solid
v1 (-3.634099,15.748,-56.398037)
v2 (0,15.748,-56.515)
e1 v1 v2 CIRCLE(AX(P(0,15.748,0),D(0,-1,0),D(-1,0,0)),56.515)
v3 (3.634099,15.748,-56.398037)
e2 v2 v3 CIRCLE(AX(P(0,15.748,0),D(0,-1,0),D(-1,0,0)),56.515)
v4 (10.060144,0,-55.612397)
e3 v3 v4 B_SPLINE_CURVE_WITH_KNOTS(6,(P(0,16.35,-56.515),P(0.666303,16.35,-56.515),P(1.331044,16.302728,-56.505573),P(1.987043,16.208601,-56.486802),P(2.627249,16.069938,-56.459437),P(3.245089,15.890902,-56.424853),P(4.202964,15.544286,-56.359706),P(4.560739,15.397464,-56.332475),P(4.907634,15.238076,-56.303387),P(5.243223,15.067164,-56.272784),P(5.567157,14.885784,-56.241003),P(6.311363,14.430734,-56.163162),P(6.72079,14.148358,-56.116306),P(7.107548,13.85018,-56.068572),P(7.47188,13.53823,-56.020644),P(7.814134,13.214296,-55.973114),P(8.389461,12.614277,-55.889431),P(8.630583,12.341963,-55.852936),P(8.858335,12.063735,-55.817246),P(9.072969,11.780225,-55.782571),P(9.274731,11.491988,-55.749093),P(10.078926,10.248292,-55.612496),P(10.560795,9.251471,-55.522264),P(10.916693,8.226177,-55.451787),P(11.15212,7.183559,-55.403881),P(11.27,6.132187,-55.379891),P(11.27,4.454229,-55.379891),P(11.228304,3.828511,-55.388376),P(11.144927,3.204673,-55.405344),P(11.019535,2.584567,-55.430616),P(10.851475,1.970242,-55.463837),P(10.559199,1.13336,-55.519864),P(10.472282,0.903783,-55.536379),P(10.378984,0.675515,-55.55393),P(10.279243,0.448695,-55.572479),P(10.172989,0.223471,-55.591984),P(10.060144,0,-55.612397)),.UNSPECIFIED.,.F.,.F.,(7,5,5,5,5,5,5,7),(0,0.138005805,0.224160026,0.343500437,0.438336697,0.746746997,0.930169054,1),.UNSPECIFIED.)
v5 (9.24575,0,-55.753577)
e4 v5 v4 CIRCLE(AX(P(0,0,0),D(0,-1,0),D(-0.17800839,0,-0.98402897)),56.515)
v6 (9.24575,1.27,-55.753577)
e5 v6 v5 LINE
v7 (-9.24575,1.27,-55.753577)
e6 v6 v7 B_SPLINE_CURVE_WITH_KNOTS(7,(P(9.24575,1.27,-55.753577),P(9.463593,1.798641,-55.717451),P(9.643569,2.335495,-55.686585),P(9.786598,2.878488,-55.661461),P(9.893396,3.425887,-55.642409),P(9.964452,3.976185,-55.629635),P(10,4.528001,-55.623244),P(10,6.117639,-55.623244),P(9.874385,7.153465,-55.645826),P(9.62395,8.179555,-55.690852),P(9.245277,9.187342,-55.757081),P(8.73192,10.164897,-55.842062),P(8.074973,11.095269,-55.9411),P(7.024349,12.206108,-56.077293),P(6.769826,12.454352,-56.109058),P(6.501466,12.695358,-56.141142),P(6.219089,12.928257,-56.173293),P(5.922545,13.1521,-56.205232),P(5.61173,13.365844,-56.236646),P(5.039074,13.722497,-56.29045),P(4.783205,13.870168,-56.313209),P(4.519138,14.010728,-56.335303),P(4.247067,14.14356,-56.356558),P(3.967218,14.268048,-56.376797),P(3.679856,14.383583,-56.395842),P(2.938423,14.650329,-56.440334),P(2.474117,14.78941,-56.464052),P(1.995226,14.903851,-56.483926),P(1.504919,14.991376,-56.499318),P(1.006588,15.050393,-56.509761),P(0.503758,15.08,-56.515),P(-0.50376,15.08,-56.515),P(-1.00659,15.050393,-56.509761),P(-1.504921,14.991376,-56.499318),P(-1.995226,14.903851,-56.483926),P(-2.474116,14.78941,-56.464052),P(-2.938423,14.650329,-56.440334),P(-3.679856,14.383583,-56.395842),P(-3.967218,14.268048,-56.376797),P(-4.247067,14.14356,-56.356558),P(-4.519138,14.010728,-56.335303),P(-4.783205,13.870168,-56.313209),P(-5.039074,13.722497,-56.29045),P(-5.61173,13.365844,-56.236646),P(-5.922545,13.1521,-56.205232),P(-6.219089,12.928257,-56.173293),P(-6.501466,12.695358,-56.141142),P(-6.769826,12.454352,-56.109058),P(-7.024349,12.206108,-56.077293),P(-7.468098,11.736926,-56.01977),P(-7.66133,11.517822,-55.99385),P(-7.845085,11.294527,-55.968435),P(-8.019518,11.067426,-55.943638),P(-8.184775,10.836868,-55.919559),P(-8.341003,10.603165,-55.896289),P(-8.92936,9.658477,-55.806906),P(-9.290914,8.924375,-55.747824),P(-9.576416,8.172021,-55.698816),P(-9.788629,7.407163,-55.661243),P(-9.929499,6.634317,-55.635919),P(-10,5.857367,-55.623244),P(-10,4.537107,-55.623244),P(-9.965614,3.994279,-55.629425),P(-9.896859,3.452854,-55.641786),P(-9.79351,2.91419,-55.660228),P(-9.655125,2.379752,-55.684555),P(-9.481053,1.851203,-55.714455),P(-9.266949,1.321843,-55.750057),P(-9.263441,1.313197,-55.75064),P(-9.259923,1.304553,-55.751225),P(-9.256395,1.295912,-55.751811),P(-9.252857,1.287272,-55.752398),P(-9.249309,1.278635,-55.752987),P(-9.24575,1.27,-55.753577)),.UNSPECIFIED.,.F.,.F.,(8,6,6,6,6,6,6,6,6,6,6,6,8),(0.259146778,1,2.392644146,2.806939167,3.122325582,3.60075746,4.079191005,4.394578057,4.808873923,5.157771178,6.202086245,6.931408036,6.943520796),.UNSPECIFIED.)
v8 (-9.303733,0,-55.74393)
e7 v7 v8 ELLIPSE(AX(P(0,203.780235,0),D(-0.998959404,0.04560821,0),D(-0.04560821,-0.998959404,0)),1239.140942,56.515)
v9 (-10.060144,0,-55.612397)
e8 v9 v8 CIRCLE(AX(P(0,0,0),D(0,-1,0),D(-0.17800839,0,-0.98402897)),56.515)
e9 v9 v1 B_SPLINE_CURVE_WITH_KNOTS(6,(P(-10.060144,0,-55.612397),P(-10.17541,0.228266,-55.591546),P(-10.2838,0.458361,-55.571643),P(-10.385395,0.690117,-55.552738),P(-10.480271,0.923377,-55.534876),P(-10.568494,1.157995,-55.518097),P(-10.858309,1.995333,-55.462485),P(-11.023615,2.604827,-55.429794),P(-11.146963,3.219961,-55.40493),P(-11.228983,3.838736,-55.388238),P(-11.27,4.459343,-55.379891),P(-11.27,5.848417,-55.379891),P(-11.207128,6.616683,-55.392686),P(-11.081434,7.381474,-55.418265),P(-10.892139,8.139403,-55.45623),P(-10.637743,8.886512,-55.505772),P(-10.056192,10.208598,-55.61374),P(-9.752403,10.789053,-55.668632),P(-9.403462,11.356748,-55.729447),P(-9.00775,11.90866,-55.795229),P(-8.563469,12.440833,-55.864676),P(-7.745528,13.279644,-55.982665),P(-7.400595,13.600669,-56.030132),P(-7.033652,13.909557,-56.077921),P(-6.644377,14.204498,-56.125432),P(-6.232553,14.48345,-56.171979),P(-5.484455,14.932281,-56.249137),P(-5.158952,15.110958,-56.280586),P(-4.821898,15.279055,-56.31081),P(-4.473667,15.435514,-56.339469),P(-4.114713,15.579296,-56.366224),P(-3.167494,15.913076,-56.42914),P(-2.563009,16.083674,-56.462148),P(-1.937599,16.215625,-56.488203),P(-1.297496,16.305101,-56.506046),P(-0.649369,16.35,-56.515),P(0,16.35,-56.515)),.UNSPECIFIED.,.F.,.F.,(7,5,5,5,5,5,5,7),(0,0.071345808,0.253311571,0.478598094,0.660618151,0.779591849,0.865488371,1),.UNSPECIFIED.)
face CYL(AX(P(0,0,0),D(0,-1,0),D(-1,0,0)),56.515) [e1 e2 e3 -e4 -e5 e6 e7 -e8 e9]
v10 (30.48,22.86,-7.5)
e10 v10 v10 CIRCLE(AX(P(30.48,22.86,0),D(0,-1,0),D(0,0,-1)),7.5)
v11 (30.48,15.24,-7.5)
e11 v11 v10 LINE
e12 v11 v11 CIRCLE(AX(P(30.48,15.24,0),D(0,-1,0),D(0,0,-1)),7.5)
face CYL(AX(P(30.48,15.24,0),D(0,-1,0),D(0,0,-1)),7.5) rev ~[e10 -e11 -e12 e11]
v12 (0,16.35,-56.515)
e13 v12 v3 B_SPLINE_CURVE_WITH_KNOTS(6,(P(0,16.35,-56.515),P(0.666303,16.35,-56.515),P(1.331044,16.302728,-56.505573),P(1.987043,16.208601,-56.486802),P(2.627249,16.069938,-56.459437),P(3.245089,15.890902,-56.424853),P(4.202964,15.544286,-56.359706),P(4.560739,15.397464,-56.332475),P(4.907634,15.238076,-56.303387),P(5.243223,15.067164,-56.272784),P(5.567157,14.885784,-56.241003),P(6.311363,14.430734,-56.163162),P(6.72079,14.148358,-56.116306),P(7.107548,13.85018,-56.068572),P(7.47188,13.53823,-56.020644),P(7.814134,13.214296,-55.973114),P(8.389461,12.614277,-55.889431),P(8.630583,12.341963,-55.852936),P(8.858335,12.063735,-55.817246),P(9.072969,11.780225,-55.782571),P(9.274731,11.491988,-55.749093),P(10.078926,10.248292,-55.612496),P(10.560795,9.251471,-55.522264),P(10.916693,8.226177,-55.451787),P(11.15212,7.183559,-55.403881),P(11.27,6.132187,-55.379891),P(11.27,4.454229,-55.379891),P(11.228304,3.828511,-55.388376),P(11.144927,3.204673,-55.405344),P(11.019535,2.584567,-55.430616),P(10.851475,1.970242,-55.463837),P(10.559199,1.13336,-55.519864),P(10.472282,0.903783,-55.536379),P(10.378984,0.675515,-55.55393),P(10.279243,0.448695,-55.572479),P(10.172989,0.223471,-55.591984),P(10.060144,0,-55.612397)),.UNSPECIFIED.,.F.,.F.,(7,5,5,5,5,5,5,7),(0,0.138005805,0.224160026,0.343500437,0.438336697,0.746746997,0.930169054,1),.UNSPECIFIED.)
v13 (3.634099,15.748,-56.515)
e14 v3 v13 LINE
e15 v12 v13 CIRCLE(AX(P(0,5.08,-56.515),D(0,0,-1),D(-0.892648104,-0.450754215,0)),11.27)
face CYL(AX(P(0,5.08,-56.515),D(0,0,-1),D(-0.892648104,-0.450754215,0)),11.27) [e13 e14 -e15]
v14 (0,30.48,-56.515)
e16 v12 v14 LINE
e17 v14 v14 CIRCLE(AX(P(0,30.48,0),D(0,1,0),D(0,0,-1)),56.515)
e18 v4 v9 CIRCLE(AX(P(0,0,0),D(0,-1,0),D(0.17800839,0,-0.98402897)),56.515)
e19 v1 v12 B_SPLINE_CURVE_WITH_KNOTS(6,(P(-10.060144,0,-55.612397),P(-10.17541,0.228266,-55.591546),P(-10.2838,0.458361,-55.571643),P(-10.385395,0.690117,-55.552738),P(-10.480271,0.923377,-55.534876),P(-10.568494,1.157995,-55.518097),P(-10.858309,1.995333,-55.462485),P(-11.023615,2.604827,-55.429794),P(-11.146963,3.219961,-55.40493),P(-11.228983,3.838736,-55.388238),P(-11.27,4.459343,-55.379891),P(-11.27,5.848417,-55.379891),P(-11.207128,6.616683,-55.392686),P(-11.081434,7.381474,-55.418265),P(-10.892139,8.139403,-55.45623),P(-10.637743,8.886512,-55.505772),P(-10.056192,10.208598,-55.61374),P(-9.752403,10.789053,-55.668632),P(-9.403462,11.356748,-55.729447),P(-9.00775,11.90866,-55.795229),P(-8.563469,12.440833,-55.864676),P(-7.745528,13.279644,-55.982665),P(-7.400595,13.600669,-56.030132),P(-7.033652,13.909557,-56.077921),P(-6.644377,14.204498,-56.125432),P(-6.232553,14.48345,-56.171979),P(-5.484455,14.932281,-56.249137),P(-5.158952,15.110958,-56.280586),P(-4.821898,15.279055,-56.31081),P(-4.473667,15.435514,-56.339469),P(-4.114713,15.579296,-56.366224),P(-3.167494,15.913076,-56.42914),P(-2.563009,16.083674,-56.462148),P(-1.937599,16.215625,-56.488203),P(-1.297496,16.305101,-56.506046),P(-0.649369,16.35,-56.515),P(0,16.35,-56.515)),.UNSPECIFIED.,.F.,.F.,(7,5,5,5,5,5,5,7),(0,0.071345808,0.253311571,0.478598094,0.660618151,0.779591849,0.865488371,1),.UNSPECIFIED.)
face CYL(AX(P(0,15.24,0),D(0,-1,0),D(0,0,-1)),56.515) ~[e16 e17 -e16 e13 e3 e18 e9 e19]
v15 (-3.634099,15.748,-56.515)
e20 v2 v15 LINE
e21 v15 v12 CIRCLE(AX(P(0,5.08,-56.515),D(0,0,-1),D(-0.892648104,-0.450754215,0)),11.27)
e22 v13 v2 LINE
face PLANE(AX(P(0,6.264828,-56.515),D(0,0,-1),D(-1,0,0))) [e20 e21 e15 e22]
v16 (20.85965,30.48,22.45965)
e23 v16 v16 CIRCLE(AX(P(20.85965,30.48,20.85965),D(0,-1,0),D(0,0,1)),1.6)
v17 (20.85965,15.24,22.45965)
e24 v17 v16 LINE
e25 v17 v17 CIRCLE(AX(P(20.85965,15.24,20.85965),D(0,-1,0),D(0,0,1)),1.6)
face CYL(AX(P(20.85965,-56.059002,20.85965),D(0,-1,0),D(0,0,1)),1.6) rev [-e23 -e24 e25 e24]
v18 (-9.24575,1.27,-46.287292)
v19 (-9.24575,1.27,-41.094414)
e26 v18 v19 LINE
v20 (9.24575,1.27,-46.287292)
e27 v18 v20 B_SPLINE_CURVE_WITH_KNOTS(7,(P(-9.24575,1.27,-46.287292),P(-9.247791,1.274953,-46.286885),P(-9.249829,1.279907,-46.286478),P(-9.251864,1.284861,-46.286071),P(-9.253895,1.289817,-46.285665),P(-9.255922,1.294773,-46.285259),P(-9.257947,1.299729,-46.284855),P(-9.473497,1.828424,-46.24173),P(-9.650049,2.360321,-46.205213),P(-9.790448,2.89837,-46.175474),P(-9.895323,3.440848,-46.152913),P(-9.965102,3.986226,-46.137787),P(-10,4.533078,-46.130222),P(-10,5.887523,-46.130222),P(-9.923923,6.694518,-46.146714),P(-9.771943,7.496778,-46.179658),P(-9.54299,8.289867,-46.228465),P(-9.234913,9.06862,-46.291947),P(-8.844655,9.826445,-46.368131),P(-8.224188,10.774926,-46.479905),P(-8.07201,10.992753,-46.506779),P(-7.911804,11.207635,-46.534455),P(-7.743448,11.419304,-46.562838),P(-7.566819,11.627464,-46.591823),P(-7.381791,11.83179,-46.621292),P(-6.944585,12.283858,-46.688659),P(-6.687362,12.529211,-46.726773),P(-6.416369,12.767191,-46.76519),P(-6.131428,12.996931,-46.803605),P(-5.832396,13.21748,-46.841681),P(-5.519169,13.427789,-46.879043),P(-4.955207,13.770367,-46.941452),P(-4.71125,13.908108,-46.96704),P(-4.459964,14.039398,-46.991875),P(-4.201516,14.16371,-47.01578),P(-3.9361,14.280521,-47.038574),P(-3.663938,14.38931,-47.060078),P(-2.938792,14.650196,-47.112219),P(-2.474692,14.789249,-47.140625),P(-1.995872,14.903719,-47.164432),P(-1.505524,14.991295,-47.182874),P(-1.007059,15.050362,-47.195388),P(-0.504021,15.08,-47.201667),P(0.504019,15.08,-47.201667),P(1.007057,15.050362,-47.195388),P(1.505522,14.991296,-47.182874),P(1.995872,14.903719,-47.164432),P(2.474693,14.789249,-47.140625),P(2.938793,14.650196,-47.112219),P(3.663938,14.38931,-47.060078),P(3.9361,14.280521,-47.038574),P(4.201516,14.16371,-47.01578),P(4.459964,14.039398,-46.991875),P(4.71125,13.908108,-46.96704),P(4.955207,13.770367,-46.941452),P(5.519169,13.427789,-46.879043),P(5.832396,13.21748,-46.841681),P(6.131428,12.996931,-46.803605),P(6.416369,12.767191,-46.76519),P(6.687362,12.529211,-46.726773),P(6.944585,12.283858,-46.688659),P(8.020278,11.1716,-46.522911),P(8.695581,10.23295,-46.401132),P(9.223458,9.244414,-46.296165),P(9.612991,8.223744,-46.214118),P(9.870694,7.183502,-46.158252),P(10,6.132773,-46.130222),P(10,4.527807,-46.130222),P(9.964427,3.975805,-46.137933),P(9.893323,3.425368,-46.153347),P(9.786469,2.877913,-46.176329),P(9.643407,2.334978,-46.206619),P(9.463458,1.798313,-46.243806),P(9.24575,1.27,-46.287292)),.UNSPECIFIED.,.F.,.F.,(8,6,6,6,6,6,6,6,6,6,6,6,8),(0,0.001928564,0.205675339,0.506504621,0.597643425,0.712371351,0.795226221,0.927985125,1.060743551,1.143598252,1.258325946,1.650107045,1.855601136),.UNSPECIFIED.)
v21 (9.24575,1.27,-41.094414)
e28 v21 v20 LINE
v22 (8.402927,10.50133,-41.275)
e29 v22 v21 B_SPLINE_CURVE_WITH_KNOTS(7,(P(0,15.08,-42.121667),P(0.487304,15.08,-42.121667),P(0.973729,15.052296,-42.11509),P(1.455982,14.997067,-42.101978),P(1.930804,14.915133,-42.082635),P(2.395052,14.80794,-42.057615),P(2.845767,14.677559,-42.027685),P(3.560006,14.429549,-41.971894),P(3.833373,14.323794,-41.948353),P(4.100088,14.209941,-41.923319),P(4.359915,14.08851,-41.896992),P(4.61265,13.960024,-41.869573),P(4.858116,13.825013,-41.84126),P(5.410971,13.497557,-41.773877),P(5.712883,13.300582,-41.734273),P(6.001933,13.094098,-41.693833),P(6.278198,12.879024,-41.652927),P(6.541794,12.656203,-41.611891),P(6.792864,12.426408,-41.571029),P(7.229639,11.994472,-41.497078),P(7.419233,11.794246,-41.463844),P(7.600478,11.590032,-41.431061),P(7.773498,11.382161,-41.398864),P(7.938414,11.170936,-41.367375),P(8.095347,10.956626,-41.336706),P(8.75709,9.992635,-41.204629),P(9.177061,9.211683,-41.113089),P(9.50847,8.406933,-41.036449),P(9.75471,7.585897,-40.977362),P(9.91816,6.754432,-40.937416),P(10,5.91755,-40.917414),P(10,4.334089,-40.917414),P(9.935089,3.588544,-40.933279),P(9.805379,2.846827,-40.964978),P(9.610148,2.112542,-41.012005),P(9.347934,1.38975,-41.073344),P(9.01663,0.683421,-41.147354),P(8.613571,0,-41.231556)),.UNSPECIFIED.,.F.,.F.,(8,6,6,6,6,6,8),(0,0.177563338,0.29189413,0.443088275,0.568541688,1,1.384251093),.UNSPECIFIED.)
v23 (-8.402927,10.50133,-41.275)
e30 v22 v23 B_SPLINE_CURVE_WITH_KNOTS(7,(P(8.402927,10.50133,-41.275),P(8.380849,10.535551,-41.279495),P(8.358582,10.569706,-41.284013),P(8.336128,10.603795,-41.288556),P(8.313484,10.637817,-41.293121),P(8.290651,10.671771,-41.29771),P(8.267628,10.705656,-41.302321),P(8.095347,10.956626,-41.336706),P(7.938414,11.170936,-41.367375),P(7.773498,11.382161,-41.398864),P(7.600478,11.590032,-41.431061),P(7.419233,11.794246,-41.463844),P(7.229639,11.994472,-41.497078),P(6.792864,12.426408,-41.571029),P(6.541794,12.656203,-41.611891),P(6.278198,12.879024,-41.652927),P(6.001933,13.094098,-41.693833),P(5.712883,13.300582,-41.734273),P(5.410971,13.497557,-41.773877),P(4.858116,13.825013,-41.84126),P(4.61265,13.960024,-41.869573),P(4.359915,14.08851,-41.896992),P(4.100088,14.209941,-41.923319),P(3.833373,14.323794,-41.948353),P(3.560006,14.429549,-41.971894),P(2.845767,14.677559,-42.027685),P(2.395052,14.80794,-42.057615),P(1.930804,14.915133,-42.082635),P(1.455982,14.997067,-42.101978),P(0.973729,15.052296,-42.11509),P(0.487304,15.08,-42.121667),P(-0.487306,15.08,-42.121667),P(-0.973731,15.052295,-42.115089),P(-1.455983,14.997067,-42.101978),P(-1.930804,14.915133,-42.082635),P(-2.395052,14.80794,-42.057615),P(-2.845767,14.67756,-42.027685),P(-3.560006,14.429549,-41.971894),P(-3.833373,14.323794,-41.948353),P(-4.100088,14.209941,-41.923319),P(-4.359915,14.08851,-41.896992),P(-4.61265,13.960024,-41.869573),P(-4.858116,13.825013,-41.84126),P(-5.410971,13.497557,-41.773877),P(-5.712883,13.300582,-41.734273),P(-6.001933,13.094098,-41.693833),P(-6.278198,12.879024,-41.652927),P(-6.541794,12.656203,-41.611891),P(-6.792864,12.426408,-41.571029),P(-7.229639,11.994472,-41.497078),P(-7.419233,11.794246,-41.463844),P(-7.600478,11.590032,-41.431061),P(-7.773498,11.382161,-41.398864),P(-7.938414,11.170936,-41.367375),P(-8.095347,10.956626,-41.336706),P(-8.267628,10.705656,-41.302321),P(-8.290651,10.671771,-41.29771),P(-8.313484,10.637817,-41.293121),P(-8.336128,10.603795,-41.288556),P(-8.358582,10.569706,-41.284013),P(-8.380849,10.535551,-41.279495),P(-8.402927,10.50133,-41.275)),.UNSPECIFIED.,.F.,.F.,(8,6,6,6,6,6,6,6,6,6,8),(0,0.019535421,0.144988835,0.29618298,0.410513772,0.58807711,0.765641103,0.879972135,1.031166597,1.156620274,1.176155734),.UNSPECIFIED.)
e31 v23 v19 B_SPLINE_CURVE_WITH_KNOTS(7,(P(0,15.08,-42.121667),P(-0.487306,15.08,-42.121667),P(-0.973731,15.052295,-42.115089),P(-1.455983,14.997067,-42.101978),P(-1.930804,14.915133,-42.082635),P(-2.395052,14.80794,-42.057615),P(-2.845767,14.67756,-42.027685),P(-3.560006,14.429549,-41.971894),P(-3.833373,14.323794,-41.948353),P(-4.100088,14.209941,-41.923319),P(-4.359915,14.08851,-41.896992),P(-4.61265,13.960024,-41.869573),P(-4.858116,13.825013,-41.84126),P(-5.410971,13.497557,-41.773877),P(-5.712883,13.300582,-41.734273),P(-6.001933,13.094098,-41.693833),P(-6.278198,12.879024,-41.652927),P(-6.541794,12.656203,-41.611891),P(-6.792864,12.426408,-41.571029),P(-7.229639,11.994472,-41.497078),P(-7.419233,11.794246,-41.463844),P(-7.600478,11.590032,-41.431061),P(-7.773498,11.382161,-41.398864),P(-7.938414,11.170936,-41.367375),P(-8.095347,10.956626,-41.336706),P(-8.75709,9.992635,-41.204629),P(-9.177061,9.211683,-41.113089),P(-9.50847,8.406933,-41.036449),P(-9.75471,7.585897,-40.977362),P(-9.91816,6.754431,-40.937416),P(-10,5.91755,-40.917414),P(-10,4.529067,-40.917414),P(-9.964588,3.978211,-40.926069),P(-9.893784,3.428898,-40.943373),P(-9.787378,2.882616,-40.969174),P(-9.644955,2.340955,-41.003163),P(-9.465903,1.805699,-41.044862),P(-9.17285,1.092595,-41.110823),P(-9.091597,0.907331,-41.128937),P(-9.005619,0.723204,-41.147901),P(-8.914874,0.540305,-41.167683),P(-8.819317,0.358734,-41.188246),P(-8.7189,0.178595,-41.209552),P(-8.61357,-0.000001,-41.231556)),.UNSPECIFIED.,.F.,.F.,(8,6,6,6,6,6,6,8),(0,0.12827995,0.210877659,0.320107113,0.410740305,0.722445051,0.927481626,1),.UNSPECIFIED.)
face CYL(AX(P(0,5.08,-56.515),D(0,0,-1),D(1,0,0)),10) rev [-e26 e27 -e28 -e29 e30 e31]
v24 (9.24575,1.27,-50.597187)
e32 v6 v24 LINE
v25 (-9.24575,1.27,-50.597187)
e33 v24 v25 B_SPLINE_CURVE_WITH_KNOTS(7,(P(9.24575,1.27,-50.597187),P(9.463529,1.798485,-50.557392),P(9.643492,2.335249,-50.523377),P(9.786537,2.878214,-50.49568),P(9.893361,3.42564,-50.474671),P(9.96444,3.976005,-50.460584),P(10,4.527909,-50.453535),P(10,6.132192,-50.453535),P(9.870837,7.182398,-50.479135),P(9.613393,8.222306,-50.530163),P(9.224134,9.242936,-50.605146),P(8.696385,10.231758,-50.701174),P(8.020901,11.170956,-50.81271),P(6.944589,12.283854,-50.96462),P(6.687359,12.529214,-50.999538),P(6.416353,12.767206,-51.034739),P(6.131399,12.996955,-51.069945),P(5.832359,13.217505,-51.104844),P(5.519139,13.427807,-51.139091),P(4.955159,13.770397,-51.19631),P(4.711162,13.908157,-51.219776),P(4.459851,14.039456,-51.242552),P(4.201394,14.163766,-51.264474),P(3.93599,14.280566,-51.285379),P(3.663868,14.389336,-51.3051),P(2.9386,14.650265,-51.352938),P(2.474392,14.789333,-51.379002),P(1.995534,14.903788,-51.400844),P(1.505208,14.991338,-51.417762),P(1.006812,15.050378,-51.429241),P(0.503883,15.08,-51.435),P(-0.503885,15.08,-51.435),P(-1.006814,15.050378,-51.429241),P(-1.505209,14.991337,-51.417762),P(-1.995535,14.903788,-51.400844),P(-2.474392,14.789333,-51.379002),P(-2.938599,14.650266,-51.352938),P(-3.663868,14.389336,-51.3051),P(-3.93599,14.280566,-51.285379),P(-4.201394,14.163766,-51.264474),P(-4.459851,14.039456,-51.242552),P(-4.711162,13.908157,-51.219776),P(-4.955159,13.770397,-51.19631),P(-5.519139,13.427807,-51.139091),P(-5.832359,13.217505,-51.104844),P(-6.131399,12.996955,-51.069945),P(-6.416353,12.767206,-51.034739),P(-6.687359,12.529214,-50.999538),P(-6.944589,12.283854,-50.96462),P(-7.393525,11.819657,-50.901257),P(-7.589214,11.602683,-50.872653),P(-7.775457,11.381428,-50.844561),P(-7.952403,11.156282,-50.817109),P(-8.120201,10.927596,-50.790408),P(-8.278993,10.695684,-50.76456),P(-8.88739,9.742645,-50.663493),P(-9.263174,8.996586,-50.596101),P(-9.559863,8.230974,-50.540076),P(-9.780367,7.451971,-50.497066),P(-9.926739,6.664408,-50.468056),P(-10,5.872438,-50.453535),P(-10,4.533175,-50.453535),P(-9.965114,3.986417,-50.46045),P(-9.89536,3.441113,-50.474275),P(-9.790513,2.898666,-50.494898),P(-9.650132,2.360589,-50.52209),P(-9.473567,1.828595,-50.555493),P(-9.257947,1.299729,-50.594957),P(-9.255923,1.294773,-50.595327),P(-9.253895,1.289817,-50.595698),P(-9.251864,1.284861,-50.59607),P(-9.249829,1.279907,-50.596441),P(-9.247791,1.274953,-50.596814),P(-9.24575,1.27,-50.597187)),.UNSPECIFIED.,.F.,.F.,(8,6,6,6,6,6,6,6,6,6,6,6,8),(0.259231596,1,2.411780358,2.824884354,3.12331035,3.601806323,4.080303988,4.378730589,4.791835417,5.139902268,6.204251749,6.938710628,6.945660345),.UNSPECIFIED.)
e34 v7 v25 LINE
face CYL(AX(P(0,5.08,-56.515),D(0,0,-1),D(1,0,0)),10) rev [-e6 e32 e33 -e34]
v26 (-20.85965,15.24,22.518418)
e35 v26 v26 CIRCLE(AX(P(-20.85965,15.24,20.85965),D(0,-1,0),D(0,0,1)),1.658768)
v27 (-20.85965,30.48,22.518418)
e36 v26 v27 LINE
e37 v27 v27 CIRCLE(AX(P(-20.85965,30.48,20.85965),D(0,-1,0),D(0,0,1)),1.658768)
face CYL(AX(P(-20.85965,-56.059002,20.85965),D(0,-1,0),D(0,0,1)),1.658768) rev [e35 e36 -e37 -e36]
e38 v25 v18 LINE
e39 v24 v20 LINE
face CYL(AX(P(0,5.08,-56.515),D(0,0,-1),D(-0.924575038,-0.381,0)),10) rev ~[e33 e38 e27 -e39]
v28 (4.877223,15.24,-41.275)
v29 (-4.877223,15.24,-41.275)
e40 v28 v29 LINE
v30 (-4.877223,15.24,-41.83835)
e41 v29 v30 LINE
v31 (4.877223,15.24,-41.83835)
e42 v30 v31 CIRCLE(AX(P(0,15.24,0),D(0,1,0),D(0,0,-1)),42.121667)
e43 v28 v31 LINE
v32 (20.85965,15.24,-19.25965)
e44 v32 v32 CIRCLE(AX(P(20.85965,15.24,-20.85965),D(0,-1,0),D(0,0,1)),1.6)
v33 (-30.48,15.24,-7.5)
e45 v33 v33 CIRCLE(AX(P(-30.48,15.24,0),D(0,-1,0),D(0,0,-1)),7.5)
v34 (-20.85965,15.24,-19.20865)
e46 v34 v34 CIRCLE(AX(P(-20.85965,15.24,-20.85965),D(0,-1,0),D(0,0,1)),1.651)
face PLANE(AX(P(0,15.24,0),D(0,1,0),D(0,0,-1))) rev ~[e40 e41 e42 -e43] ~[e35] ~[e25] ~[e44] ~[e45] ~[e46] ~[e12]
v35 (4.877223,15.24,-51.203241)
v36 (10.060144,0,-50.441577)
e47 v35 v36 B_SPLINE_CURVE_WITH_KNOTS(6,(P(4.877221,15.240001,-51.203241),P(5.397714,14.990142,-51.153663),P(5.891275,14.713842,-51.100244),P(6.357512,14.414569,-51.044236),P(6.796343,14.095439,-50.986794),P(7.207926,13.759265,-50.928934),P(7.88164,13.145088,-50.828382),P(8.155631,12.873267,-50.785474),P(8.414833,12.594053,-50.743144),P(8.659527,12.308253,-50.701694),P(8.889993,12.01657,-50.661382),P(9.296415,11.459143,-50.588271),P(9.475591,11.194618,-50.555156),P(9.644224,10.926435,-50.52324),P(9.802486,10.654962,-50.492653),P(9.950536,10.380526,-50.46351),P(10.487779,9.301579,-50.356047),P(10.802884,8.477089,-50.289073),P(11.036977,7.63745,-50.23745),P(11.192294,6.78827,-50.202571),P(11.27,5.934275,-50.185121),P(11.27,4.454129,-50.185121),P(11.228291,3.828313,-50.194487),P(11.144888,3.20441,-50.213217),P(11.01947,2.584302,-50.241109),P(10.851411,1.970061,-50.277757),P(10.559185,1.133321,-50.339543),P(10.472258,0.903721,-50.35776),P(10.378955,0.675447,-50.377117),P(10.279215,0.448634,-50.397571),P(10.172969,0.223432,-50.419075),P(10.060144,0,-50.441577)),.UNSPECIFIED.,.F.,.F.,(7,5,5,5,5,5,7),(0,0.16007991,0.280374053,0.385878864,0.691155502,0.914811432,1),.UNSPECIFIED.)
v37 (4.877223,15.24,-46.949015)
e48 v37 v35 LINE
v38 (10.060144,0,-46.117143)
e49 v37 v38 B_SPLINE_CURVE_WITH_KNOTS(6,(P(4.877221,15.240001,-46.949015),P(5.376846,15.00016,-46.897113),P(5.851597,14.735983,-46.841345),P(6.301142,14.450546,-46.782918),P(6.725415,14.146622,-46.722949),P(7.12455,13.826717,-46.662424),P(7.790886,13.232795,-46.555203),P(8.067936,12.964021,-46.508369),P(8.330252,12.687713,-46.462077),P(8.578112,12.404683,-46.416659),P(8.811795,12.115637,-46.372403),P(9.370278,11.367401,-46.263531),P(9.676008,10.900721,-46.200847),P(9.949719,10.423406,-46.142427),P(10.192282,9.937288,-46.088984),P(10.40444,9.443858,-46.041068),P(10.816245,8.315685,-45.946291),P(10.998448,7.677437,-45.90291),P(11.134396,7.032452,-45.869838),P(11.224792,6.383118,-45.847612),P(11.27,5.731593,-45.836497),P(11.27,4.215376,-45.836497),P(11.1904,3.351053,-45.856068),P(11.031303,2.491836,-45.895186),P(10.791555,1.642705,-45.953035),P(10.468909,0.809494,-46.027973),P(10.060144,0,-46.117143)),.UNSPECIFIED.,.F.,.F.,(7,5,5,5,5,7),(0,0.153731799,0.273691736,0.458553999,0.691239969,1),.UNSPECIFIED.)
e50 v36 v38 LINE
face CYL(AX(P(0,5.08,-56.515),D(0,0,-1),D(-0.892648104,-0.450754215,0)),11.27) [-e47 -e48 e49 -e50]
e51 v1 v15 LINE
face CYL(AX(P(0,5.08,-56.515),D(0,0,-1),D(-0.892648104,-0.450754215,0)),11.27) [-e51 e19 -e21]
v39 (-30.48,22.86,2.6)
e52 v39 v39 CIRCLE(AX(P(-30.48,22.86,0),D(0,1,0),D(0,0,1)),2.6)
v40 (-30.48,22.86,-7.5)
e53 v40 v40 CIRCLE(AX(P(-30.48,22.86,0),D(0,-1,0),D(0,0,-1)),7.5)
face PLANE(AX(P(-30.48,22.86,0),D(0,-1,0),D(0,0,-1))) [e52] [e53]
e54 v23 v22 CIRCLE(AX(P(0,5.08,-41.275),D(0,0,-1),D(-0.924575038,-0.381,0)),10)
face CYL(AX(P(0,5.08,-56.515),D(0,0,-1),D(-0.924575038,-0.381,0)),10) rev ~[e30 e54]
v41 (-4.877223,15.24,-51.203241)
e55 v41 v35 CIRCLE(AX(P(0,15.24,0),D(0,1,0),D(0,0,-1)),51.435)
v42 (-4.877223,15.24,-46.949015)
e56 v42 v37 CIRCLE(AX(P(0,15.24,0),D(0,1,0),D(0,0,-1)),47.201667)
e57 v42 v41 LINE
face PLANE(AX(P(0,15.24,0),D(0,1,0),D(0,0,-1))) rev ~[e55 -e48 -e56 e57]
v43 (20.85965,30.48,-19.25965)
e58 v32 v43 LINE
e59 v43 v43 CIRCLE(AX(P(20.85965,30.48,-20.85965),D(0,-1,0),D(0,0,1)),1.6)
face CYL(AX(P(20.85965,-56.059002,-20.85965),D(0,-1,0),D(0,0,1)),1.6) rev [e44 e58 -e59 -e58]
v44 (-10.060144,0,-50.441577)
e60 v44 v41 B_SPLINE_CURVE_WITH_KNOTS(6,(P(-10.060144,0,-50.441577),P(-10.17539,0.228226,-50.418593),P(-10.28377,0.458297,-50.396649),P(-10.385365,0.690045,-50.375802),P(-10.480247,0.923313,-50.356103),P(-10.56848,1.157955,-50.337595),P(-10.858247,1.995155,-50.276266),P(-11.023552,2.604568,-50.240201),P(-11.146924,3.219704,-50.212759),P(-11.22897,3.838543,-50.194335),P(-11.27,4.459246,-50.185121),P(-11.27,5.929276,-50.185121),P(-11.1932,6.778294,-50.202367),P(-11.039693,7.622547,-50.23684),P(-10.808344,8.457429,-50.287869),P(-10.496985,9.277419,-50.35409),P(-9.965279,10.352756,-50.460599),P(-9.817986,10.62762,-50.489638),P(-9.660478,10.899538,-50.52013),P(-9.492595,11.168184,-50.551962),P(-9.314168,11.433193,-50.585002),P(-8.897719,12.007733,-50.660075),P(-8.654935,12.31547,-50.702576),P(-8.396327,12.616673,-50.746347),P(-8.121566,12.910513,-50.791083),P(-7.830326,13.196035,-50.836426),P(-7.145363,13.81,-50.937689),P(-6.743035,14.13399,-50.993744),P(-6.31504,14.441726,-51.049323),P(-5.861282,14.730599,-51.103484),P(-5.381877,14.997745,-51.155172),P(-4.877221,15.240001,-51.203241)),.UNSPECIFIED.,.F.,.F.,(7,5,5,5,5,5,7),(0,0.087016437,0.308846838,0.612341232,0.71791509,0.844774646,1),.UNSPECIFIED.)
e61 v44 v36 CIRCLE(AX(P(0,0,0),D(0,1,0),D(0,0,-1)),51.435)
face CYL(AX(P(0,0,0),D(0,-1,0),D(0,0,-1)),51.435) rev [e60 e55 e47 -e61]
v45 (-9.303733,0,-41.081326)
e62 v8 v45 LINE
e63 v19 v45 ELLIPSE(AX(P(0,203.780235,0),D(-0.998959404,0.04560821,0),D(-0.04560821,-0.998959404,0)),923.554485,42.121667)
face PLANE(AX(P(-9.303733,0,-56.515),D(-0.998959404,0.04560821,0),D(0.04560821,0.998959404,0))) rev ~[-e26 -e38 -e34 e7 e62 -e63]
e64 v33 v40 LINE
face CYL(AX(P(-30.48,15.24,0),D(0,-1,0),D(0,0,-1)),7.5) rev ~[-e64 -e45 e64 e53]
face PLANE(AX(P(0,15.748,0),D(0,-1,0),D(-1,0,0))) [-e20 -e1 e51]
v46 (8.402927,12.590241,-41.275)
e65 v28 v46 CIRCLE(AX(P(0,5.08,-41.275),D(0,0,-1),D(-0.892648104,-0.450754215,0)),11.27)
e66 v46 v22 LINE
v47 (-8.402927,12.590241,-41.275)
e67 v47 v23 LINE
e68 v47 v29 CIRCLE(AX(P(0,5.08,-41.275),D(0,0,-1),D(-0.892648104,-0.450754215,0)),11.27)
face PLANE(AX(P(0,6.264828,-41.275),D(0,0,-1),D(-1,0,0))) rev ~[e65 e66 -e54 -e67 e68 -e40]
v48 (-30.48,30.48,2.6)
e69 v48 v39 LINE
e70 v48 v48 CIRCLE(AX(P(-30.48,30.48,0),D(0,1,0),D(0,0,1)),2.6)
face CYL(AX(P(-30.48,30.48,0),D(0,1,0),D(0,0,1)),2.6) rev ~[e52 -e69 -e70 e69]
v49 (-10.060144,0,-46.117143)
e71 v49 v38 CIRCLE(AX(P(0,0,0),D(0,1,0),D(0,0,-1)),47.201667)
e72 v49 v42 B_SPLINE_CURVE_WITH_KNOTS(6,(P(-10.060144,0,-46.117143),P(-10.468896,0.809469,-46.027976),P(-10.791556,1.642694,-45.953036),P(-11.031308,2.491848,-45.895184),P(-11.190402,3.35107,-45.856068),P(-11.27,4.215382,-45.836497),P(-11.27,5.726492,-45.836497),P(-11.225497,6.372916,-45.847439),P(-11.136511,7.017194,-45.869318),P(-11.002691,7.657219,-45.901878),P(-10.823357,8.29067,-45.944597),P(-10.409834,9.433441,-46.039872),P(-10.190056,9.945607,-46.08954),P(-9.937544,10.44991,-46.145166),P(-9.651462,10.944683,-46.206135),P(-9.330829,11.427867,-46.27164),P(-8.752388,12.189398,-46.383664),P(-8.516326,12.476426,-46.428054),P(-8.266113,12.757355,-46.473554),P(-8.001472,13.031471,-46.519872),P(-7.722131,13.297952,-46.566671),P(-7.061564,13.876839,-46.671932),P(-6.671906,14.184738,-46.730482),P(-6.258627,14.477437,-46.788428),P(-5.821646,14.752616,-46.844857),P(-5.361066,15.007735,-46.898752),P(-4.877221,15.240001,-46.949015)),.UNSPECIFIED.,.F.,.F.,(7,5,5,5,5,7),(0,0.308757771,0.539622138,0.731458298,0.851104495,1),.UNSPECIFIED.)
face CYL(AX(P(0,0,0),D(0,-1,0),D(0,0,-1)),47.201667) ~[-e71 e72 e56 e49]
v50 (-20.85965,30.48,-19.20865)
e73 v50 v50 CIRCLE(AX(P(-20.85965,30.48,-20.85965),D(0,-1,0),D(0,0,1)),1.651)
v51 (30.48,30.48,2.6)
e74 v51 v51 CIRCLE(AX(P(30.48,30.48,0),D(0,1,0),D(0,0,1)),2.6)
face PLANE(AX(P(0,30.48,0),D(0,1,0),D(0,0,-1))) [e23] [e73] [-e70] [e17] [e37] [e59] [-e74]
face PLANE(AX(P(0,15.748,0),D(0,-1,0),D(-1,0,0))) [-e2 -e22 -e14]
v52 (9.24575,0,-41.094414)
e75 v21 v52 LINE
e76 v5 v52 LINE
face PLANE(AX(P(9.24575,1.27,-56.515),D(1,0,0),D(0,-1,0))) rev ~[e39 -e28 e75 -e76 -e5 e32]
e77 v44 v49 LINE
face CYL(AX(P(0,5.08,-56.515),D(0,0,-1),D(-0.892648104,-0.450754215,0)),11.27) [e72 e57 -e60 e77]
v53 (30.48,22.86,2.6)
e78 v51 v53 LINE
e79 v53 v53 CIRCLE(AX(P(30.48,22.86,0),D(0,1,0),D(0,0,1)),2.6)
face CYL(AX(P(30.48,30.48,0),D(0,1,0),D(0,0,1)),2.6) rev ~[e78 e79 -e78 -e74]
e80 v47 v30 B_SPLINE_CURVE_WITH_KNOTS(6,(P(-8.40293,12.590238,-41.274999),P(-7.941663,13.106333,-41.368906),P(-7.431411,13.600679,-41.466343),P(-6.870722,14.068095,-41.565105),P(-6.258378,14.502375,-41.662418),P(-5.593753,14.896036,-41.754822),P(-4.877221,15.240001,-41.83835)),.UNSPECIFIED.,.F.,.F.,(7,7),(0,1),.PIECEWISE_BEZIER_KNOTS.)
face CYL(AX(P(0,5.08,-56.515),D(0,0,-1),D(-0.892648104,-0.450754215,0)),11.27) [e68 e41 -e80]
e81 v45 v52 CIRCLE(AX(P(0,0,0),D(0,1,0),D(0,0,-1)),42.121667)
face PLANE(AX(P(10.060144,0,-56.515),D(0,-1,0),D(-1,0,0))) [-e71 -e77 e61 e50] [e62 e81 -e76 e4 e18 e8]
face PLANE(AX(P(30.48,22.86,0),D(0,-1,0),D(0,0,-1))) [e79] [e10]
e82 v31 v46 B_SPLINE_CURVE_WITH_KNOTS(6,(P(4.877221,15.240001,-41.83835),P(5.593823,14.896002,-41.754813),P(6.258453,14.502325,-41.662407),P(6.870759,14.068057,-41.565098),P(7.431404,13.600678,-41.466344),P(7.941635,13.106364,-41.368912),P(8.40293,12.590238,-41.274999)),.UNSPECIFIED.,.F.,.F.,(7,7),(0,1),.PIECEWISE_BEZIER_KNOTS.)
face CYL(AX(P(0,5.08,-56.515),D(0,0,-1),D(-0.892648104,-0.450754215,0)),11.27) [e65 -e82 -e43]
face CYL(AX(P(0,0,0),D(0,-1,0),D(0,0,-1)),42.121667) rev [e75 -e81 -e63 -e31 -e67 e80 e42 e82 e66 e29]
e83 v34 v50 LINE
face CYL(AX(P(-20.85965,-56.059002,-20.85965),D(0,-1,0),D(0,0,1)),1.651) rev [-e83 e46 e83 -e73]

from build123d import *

# Parameters (mm, degrees)
SKETCH2_R               = 56.515
SKETCH2_R_2             = 51.435
BOSS_EXTRUDE1_DEPTH     = 15.24
SKETCH2_R_3             = 47.201666667
SKETCH2_R_4             = 42.121666667
BOSS_EXTRUDE1_2_DEPTH   = 15.24
SKETCH3_R               = 56.515
BOSS_EXTRUDE2_DEPTH     = 15.24
CUT_EXTRUDE1_DEPTH      = 86.539001923
CUT_EXTRUDE1_DEPTH_BACK = 86.539001923
SKETCH4_R               = 1.6
SKETCH4_R_2             = 1.65876763
SKETCH4_R_3             = 1.651
SKETCH14_R              = 10
CUT_EXTRUDE7_DEPTH      = 19.558
SKETCH16_W              = 1.27
SKETCH16_H              = 1.27
EXTRUDE_THIN1_DEPTH     = 15.24
SKETCH20_R              = 66.675
SKETCH20_R_2            = 56.515
CUT_EXTRUDE_THIN3_DEPTH = 15.748
CUT_EXTRUDE12_DEPTH     = 15.748
SKETCH24_R              = 2.6
CUT_EXTRUDE15_DEPTH     = 7.62
SKETCH25_R              = 7.5
CUT_EXTRUDE16_DEPTH     = 7.62


with BuildPart() as part:
    # Sketch2 → Boss-Extrude1 (new body)
    with BuildSketch(Plane(origin=(0, 0, 0), x_dir=(1, 0, 0), z_dir=(0, 1, 0))):
        with Locations(Location((0, 0, 0), (0, 0, 90))):
            Circle(SKETCH2_R)
        with Locations(Location((0, 0, 0), (0, 0, 90))):
            Circle(SKETCH2_R_2, mode=Mode.SUBTRACT)
    extrude(amount=BOSS_EXTRUDE1_DEPTH)



with BuildPart() as body_2:
    # Sketch2 → Boss-Extrude1 2 (new body)
    with BuildSketch(Plane(origin=(0, 0, 0), x_dir=(1, 0, 0), z_dir=(0, 1, 0))):
        with Locations(Location((0, 0, 0), (0, 0, 90))):
            Circle(SKETCH2_R_3)
        with Locations(Location((0, 0, 0), (0, 0, 90))):
            Circle(SKETCH2_R_4, mode=Mode.SUBTRACT)
    extrude(amount=BOSS_EXTRUDE1_2_DEPTH)


with BuildPart() as part_1:
    add(part.part)

    add(body_2.part)  # Boss-Extrude2 merges body 2
    # Sketch3 → Boss-Extrude2 (add)
    with BuildSketch(Plane(origin=(0, 15.24, 0), x_dir=(1, 0, 0), z_dir=(0, 1, 0))):
        with Locations(Location((0, 0, 0), (0, 0, 90))):
            Circle(SKETCH3_R)
    extrude(amount=BOSS_EXTRUDE2_DEPTH)

    # Sketch4 → Cut-Extrude1 (cut, two sides: drawn at the far end of the back side and taken through both)
    with BuildSketch(Plane(origin=(0, 30.48, 0), x_dir=(1, 0, 0), z_dir=(0, 1, 0)).offset(-CUT_EXTRUDE1_DEPTH_BACK)):
        with Locations(Location((20.859650045, 20.859650045, 0), (0, 0, 270))):
            Circle(SKETCH4_R)
        with Locations(Location((20.859650045, -20.859650045, 0), (0, 0, 270))):
            Circle(SKETCH4_R)
        with Locations(Location((-20.859650045, -20.859650045, 0), (0, 0, 270))):
            Circle(SKETCH4_R_2)
        with Locations(Location((-20.859650045, 20.859650045, 0), (0, 0, 270))):
            Circle(SKETCH4_R_3)
    extrude(amount=CUT_EXTRUDE1_DEPTH + CUT_EXTRUDE1_DEPTH_BACK, mode=Mode.SUBTRACT)

    # Sketch14 → Cut-Extrude7 (cut)
    with BuildSketch(Plane.XY.offset(-56.515)):
        with Locations((0, 5.08)):
            Circle(SKETCH14_R)
    extrude(amount=CUT_EXTRUDE7_DEPTH, mode=Mode.SUBTRACT)

    # Sketch16 → Extrude-Thin1 (add)
    # profile 1 of 2: a face of its own
    with BuildSketch(Plane.XY.offset(-56.515)):
        with Locations((-0.635, 0.635)):
            Rectangle(SKETCH16_W, SKETCH16_H)
    # profile 2 of 2: a face of its own
    with BuildSketch(Plane.XY.offset(-56.515)):
        with BuildLine():
            Line((10.060144134, 0), (-10.060144134, 0))
            ThreePointArc((-10.060144134, 0), (0, 16.35), (10.060144134, 0))
        make_face()
        with BuildLine():
            Line((9.245750375, 1.27), (-9.245750375, 1.27))
            ThreePointArc((-9.245750375, 1.27), (0, 15.08), (9.245750375, 1.27))
        make_face(mode=Mode.SUBTRACT)
    extrude(amount=EXTRUDE_THIN1_DEPTH)

    # Sketch20 → Cut-Extrude-Thin3 (cut)
    with BuildSketch(Plane(origin=(0, 0, 0), x_dir=(-1, 0, 0), z_dir=(0, -1, 0))):
        Circle(SKETCH20_R)
        Circle(SKETCH20_R_2, mode=Mode.SUBTRACT)
    extrude(amount=-CUT_EXTRUDE_THIN3_DEPTH, mode=Mode.SUBTRACT)

    # Sketch21 → Cut-Extrude12 (cut)
    with BuildSketch(Plane.XY.offset(-56.515)):
        Polygon((-9.303733138, 0), (-9.245750375, 1.27), (9.245750375, 1.27), (9.245750375, 0), align=None)
    extrude(amount=CUT_EXTRUDE12_DEPTH, mode=Mode.SUBTRACT)

    # Sketch24 → Cut-Extrude15 (cut)
    with BuildSketch(Plane(origin=(0, 30.48, 0), x_dir=(1, 0, 0), z_dir=(0, 1, 0))):
        with Locations(Location((30.48, 0, 0), (0, 0, 270))):
            Circle(SKETCH24_R)
        with Locations(Location((-30.48, 0, 0), (0, 0, 270))):
            Circle(SKETCH24_R)
    extrude(amount=-CUT_EXTRUDE15_DEPTH, mode=Mode.SUBTRACT)

    # Sketch25 → Cut-Extrude16 (cut)
    with BuildSketch(Plane(origin=(0, 15.24, 0), x_dir=(-1, 0, 0), z_dir=(0, -1, 0))):
        with Locations(Location((30.48, 0, 0), (0, 0, 90))):
            Circle(SKETCH25_R)
        with Locations(Location((-30.48, 0, 0), (0, 0, 90))):
            Circle(SKETCH25_R)
    extrude(amount=-CUT_EXTRUDE16_DEPTH, mode=Mode.SUBTRACT)


solid = part_1.part
